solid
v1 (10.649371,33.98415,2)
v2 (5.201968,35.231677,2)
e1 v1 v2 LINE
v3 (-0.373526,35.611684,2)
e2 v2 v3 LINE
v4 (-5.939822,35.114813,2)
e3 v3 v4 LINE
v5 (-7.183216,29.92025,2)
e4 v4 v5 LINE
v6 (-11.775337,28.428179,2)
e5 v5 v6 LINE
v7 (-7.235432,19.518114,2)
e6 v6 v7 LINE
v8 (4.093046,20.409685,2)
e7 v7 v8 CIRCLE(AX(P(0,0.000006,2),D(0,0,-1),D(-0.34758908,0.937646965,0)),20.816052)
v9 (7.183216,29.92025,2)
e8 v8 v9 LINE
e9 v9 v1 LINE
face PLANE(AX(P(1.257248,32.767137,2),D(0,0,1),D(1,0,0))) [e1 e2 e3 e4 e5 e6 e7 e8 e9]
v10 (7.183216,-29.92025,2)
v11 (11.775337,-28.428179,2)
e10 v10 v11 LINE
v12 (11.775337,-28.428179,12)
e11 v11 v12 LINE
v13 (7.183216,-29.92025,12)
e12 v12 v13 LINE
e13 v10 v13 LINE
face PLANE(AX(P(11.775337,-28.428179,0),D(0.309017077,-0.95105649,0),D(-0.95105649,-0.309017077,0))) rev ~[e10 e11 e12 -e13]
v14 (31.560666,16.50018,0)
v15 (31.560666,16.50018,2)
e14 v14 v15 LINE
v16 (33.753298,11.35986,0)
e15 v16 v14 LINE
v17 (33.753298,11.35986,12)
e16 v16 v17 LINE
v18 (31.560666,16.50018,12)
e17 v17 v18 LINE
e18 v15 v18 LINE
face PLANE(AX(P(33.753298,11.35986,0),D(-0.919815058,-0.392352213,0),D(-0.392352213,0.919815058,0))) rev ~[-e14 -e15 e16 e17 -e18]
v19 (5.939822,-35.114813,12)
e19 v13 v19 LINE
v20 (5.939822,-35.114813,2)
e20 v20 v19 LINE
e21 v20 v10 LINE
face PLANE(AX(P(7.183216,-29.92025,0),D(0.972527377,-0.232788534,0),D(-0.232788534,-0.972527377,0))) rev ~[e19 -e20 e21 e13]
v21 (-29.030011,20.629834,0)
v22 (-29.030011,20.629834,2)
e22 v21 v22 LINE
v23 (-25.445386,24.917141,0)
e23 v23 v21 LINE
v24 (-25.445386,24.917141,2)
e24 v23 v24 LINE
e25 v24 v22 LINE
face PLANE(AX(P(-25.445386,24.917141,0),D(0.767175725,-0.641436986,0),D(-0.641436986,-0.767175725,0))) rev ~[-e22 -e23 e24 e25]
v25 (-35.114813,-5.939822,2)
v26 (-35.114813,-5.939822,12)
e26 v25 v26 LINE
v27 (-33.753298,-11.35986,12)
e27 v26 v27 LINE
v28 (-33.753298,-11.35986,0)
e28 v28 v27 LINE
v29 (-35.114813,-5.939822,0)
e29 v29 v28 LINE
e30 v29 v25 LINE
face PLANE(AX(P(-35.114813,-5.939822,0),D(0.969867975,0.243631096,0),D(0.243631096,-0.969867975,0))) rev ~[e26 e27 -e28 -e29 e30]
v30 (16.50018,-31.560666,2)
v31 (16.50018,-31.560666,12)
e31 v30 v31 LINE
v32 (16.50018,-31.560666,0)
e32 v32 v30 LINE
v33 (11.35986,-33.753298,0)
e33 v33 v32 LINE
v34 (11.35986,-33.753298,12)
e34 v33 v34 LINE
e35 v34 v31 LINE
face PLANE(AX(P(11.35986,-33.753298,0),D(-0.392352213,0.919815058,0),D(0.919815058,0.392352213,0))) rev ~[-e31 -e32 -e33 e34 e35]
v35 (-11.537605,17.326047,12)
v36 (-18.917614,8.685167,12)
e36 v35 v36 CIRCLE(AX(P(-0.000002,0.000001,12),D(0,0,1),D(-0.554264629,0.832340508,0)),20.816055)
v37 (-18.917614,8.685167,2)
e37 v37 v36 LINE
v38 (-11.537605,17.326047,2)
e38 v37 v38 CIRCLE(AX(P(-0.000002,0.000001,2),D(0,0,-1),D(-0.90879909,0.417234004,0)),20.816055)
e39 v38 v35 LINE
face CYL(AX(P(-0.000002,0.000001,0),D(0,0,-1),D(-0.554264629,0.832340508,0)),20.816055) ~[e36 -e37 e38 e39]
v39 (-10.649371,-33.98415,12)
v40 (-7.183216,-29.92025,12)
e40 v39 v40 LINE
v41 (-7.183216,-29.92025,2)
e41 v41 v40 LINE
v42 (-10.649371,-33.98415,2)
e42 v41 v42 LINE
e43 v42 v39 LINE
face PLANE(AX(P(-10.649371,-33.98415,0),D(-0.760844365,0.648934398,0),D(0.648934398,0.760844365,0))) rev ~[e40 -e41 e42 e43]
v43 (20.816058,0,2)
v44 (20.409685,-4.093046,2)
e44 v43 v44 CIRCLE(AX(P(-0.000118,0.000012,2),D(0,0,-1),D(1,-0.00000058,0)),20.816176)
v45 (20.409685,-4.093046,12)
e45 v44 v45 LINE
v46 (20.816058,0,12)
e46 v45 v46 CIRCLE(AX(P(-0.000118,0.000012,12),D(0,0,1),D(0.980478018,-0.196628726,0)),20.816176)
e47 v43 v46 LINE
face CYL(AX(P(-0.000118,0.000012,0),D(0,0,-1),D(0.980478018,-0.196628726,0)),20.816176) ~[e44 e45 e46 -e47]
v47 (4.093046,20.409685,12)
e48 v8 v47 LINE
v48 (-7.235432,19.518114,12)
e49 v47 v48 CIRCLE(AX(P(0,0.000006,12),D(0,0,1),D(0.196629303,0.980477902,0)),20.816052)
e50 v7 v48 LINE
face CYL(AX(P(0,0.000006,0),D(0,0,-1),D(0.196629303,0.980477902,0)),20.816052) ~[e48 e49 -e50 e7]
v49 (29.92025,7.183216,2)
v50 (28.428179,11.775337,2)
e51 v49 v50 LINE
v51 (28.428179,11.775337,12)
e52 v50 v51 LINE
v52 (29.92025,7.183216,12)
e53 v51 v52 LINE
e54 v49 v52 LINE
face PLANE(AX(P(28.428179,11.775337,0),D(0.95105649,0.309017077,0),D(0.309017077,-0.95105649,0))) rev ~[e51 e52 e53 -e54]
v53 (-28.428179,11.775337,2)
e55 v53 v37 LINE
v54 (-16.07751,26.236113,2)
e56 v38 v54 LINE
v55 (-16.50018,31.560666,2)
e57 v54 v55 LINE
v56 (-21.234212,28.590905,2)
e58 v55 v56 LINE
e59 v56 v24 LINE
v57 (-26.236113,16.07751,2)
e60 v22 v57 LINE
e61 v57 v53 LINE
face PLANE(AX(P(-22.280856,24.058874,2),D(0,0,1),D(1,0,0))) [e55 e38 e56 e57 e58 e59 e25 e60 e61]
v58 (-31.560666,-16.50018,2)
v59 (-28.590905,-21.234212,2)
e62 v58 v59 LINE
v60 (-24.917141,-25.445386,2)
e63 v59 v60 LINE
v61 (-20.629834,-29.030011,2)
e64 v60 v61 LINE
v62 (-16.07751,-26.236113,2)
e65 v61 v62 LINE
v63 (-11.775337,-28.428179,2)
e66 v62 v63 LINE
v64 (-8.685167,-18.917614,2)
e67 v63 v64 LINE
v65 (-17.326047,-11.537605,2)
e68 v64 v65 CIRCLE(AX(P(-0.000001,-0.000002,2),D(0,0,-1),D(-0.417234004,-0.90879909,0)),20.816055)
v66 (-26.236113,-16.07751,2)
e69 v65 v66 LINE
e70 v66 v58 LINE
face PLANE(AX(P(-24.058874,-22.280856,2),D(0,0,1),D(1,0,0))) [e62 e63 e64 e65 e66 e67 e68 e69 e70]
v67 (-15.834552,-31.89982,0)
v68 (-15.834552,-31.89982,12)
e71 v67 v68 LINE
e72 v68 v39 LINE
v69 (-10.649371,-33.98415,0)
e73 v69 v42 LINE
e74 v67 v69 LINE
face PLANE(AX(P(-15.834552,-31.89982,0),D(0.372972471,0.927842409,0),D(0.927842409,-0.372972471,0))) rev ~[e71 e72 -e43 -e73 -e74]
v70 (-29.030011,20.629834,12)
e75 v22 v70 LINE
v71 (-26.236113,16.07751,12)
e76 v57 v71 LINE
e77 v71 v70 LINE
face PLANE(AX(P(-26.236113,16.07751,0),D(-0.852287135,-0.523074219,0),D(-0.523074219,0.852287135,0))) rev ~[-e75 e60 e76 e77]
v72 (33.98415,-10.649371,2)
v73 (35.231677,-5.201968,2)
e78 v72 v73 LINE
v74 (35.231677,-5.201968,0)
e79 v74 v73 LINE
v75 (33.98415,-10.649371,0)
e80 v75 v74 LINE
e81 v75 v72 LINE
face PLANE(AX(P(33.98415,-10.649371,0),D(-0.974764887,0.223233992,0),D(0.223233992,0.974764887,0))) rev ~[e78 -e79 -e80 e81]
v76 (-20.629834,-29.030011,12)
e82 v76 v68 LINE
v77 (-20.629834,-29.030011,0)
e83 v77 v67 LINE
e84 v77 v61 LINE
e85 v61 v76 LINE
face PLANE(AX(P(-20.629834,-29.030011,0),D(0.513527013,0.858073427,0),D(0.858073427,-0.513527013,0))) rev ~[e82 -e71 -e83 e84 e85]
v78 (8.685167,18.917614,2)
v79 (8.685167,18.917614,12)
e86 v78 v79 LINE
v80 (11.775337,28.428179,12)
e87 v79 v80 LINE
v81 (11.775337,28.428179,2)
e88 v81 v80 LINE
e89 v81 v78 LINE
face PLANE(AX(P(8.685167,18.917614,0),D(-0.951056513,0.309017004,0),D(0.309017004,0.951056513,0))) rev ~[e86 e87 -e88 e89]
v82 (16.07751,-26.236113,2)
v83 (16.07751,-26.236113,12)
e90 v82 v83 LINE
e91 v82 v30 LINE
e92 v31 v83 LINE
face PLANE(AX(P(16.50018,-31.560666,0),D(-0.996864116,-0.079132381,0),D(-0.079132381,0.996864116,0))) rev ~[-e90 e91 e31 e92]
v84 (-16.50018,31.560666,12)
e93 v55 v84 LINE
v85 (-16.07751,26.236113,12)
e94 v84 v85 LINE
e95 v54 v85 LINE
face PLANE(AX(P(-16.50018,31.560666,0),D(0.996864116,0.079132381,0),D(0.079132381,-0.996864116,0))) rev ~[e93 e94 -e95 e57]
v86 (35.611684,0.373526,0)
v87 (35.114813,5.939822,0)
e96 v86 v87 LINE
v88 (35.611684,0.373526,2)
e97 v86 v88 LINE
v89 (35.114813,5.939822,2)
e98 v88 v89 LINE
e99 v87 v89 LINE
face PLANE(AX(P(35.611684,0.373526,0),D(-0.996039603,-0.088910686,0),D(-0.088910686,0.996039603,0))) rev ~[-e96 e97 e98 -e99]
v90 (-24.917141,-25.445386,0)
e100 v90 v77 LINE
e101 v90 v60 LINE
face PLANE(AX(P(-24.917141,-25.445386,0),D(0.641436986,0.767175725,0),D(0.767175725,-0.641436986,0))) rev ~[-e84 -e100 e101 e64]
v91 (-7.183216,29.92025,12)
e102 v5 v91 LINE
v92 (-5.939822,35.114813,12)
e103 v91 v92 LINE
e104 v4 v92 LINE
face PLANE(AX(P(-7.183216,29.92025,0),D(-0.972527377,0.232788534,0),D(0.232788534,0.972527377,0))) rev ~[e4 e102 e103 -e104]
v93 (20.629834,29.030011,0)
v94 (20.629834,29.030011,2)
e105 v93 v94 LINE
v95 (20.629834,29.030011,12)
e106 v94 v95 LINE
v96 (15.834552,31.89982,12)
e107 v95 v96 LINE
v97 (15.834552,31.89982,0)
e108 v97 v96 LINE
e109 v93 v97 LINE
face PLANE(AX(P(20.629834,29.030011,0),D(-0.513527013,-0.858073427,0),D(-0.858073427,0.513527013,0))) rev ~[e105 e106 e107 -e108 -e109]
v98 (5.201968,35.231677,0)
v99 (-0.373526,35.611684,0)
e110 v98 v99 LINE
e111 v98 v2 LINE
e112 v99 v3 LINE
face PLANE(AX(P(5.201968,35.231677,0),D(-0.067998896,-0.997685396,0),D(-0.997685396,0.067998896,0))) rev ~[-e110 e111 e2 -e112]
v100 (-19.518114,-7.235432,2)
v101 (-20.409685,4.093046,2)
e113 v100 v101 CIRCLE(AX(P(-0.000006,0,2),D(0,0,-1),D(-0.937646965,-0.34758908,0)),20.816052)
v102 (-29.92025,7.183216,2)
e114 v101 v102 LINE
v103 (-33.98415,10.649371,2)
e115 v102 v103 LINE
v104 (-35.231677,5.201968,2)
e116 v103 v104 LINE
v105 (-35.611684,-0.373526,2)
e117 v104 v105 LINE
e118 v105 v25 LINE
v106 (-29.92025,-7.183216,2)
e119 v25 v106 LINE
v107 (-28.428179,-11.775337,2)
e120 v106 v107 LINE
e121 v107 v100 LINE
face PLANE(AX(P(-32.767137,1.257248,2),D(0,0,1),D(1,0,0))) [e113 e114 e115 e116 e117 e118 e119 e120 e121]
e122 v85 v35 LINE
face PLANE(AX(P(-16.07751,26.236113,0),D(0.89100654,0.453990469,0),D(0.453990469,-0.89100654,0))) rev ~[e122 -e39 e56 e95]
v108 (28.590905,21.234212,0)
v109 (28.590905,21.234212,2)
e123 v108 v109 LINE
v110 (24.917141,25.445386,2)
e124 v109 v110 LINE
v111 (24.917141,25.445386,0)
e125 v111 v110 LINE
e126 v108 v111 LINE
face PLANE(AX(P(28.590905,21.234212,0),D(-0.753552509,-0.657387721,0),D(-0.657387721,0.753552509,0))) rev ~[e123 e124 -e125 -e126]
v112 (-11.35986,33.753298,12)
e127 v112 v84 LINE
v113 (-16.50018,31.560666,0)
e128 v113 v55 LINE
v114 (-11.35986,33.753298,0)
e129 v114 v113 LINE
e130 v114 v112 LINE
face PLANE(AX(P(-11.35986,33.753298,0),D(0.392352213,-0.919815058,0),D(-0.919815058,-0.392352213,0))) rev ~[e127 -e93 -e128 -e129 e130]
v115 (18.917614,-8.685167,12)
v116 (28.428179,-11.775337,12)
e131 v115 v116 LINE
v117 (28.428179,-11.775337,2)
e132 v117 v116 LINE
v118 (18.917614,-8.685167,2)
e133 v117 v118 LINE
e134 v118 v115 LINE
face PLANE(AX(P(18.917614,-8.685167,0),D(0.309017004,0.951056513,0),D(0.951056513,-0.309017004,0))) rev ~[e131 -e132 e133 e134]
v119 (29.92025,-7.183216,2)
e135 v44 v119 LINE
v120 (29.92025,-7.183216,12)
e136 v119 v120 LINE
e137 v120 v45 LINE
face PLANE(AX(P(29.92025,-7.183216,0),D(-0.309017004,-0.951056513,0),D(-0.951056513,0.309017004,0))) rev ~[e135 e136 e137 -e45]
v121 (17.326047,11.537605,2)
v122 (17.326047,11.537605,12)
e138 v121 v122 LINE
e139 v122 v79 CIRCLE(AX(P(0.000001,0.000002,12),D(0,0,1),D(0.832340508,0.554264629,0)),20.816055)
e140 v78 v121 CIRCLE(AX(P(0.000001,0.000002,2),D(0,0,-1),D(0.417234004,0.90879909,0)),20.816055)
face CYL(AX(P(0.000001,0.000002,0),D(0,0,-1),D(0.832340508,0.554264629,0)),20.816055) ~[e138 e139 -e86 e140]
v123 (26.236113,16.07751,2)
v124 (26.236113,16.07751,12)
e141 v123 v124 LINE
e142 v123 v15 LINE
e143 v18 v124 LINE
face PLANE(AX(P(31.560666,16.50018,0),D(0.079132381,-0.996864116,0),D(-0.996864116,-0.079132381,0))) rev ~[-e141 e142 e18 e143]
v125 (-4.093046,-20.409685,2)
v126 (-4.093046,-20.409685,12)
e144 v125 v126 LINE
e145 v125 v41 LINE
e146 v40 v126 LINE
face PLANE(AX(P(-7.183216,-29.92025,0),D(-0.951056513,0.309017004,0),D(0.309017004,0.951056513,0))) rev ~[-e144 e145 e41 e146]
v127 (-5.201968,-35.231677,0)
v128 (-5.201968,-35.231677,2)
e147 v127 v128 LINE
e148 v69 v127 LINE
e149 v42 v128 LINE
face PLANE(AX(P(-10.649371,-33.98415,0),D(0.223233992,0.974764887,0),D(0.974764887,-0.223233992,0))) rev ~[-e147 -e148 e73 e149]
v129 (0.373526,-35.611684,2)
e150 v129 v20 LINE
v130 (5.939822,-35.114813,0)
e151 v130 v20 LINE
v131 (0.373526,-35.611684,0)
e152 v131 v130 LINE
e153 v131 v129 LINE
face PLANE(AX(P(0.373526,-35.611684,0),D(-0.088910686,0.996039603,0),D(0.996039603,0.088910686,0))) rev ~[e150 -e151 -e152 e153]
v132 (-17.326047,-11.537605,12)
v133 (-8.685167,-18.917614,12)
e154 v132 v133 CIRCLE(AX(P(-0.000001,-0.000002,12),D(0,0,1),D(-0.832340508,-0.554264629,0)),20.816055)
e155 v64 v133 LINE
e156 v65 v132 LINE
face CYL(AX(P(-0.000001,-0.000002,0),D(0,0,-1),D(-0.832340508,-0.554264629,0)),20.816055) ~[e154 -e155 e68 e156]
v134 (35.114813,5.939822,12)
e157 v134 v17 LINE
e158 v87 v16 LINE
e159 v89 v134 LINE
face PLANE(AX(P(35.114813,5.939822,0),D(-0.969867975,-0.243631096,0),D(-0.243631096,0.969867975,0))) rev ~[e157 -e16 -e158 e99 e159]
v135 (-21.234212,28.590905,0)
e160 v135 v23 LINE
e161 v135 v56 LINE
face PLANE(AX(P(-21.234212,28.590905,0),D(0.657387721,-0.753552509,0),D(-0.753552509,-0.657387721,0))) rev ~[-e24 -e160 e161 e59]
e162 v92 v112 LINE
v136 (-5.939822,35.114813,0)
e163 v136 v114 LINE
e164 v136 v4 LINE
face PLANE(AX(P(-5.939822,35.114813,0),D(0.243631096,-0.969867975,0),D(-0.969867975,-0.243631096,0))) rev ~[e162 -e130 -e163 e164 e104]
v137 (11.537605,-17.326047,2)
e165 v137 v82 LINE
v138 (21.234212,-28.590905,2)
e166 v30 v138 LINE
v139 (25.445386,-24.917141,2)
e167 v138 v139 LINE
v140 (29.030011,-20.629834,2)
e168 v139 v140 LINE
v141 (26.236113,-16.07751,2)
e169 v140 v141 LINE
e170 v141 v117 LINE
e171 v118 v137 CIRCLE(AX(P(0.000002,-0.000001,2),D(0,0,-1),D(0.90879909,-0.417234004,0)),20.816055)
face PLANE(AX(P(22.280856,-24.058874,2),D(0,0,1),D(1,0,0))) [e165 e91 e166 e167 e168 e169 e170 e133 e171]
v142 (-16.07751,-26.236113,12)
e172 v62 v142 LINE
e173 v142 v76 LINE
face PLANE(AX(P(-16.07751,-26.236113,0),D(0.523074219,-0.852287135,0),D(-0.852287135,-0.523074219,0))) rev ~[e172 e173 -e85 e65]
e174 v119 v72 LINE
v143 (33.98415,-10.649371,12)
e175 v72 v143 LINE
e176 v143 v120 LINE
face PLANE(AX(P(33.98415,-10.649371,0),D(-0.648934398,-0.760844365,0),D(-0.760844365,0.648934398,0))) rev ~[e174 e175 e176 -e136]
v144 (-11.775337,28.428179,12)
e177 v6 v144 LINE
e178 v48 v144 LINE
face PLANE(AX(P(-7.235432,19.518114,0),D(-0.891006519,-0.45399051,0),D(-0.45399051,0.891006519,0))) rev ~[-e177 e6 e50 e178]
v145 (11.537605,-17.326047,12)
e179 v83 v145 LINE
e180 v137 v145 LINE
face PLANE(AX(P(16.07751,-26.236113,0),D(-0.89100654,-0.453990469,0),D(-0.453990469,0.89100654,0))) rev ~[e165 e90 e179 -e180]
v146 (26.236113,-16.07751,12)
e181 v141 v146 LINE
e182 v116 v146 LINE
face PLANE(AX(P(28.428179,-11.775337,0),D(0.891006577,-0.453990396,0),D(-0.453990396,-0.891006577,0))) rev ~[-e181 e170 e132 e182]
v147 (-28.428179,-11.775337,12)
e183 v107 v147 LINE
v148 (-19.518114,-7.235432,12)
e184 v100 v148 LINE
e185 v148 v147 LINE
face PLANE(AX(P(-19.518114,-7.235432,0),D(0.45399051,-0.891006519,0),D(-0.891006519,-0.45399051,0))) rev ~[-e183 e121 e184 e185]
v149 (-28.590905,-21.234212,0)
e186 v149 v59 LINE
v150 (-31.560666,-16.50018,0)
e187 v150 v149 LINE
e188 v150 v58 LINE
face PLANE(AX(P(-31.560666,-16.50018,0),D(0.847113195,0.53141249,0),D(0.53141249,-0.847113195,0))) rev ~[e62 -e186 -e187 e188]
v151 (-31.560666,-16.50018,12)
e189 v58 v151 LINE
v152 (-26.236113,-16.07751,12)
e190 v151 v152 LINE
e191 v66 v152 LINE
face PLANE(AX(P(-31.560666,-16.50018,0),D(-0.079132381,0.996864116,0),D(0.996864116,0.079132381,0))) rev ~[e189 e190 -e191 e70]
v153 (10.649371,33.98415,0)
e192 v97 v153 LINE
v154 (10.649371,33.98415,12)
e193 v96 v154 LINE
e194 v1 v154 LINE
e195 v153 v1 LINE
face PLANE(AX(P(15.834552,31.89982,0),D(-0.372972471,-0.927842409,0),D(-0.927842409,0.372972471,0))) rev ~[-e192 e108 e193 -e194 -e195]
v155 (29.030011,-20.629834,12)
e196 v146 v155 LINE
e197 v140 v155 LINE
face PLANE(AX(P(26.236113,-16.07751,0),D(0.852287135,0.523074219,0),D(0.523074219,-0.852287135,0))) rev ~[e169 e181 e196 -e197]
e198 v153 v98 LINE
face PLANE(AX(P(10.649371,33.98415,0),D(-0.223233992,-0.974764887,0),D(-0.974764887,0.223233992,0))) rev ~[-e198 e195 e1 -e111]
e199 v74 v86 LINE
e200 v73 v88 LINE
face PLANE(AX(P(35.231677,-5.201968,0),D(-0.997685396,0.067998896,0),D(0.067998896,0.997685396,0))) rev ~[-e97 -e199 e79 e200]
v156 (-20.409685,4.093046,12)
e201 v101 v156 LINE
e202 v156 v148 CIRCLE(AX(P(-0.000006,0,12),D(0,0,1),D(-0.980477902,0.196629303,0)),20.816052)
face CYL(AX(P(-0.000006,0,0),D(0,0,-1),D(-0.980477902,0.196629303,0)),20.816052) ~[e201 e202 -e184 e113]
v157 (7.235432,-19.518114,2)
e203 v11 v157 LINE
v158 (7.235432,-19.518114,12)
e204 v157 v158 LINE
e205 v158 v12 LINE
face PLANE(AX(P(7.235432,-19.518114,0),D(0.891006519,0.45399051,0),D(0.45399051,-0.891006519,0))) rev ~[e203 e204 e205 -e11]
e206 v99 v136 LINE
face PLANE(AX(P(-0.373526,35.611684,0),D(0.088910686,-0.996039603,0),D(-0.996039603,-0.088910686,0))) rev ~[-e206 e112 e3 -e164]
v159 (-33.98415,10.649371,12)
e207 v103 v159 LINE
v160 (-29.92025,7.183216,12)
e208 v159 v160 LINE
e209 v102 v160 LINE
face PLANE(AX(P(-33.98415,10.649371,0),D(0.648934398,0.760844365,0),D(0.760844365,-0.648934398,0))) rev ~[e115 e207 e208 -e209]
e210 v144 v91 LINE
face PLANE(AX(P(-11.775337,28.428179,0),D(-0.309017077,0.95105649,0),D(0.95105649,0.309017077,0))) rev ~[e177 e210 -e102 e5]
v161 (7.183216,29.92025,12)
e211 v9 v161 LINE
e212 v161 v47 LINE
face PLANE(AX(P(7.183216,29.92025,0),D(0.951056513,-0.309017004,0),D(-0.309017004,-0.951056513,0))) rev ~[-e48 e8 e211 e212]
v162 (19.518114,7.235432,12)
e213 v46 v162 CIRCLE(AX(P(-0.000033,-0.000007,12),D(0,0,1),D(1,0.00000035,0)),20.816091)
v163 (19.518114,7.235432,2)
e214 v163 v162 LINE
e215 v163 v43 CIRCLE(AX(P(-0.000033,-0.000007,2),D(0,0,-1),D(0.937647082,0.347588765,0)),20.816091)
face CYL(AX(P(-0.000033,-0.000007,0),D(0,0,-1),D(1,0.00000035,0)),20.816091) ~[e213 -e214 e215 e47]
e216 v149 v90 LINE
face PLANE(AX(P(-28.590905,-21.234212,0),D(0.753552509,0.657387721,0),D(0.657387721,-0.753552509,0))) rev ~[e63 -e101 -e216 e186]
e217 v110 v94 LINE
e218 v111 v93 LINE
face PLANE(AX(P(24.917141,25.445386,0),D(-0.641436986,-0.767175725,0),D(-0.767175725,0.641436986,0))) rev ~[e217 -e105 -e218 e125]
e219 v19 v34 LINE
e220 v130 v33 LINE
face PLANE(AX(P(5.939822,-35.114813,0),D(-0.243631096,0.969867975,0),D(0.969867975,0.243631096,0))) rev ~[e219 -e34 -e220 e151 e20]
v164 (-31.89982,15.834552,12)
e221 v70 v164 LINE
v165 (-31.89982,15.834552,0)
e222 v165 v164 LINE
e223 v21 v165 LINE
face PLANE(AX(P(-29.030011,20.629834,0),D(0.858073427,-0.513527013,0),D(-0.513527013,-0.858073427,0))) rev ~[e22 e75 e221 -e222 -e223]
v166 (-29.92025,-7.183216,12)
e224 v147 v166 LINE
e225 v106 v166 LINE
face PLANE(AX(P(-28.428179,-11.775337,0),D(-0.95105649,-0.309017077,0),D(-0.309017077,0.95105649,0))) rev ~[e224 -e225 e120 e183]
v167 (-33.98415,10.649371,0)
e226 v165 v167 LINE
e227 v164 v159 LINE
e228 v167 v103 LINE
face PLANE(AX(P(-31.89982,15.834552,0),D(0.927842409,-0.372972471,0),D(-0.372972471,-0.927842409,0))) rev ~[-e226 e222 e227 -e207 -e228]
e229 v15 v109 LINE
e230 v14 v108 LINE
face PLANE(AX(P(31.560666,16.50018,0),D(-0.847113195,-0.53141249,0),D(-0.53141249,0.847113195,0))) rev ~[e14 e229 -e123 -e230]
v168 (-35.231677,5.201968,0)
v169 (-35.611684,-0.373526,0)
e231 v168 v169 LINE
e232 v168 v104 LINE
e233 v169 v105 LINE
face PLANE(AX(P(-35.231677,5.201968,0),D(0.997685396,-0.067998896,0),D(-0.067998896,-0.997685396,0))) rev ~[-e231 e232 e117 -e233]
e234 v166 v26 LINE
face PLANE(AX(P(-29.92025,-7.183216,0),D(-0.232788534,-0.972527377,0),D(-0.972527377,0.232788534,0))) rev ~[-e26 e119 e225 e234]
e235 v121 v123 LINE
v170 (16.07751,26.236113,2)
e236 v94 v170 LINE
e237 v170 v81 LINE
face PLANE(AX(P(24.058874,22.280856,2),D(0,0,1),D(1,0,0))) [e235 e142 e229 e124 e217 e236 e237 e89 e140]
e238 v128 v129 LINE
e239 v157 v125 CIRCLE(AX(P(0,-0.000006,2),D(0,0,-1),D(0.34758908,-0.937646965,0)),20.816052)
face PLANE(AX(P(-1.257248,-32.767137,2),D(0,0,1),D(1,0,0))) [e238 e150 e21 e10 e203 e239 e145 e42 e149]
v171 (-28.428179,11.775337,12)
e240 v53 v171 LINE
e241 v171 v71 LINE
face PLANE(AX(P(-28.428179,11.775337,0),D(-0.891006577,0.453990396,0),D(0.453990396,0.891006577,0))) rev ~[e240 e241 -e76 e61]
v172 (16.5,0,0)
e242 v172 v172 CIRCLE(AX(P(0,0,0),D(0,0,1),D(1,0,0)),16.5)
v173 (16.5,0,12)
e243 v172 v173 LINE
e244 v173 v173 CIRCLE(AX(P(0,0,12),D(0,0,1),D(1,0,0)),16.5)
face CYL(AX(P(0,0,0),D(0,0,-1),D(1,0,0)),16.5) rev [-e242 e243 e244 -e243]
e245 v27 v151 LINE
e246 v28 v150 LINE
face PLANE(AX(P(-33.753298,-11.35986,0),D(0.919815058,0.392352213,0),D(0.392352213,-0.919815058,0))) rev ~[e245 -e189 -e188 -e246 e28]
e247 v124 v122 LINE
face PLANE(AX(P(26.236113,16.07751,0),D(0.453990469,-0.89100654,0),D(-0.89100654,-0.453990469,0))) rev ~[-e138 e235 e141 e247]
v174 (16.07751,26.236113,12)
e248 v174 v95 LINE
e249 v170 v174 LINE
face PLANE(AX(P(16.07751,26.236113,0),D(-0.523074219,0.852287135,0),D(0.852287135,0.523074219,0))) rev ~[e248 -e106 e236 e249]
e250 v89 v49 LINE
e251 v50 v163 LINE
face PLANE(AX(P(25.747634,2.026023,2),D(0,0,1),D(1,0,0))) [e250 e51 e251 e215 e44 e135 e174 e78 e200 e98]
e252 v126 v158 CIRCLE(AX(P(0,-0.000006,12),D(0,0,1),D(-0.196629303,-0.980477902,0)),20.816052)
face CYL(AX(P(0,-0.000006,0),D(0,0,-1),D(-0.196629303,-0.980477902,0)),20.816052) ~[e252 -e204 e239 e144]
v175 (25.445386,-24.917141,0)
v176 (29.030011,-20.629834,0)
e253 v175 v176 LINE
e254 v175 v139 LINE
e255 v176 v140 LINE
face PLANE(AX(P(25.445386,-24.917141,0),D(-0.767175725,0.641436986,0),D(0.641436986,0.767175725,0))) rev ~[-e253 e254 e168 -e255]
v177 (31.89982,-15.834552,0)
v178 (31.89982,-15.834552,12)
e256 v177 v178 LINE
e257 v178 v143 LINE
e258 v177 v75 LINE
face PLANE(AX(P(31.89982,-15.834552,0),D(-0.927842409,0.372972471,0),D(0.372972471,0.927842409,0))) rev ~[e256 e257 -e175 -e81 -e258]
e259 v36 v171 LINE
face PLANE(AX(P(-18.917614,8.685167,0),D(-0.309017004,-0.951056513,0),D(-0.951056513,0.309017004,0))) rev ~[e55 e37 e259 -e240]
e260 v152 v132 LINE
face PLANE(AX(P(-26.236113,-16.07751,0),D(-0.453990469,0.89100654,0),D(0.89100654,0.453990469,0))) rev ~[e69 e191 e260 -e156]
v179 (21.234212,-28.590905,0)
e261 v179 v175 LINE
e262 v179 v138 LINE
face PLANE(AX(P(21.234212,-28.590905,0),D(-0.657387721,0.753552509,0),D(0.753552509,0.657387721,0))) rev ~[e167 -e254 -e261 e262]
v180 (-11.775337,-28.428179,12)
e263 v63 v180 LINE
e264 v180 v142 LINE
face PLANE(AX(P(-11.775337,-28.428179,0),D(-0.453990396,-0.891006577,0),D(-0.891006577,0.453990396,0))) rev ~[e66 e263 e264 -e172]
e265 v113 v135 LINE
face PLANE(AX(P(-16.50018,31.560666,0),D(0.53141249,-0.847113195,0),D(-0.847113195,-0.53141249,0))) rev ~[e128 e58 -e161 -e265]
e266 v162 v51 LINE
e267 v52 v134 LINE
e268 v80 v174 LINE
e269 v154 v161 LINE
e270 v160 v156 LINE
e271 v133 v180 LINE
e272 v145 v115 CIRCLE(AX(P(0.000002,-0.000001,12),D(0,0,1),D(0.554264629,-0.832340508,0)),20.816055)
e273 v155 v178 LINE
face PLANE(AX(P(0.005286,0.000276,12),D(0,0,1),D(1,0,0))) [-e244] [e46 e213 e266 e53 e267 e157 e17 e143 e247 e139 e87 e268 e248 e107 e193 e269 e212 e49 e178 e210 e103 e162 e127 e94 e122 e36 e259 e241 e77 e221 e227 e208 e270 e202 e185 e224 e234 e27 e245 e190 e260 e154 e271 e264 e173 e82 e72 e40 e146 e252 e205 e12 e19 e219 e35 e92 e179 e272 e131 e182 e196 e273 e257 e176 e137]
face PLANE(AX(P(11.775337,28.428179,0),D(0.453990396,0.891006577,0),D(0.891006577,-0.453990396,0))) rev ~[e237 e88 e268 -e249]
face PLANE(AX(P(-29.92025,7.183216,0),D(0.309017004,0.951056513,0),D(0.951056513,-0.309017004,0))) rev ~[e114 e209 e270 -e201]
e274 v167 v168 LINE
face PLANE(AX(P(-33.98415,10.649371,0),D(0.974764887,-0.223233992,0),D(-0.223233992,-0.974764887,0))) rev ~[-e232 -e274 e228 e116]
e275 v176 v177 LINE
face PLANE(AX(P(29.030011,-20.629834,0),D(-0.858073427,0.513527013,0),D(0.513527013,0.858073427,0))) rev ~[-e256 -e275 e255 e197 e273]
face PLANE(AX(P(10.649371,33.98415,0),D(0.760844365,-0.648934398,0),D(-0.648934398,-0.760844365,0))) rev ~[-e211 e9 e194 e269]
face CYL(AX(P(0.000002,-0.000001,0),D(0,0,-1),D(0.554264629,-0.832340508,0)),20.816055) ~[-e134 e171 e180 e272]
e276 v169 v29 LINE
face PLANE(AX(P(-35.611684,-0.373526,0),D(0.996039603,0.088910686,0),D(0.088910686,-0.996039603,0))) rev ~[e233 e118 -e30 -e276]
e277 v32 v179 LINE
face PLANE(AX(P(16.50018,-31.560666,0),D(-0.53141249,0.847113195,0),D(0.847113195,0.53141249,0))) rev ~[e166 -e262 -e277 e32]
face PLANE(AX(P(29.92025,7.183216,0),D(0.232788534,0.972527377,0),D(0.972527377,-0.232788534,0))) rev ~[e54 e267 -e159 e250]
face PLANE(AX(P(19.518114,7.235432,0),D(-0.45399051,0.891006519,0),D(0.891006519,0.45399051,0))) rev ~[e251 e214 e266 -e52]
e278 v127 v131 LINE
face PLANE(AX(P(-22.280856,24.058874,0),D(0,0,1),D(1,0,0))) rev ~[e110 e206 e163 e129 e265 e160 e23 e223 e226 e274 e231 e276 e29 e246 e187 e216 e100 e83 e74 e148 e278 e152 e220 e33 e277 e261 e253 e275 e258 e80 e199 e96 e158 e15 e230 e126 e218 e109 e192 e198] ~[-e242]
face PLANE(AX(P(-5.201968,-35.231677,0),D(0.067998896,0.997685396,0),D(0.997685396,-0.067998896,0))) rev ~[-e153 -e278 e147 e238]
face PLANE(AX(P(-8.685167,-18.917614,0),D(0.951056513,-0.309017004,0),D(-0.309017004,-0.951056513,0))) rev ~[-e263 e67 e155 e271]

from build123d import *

# Parameters (mm, degrees)
F0_R      = 16.5
F17_DEPTH = 12
F18_DEPTH = 2


with BuildPart() as f17:
    # F0 (on Top) → F17 (new body)
    with BuildSketch(Plane.XY):
        with BuildLine():
            ThreePointArc((18.917614, -8.685167), (19.797247, -6.432516), (20.409685, -4.093046))
            ThreePointArc((20.409685, -4.093046), (20.714215, -2.056585), (20.816058, 0))
            ThreePointArc((20.816058, 0), (20.489002, 3.675464), (19.518114, 7.235432))
            ThreePointArc((19.518114, 7.235432), (18.547243, 9.450292), (17.326047, 11.537605))
            ThreePointArc((17.326047, 11.537605), (13.518948, 15.828654), (8.685167, 18.917614))
            ThreePointArc((8.685167, 18.917614), (6.432516, 19.797247), (4.093046, 20.409685))
            ThreePointArc((4.093046, 20.409685), (-1.633209, 20.751889), (-7.235432, 19.518114))
            ThreePointArc((-7.235432, 19.518114), (-9.450292, 18.547243), (-11.537605, 17.326047))
            ThreePointArc((-11.537605, 17.326047), (-15.828654, 13.518948), (-18.917614, 8.685167))
            ThreePointArc((-18.917614, 8.685167), (-19.797247, 6.432516), (-20.409685, 4.093046))
            ThreePointArc((-20.409685, 4.093046), (-20.751889, -1.633209), (-19.518114, -7.235432))
            ThreePointArc((-19.518114, -7.235432), (-18.547243, -9.450292), (-17.326047, -11.537605))
            ThreePointArc((-17.326047, -11.537605), (-13.518948, -15.828654), (-8.685167, -18.917614))
            ThreePointArc((-8.685167, -18.917614), (-6.432516, -19.797247), (-4.093046, -20.409685))
            ThreePointArc((-4.093046, -20.409685), (1.633209, -20.751889), (7.235432, -19.518114))
            ThreePointArc((7.235432, -19.518114), (9.450292, -18.547243), (11.537605, -17.326047))
            ThreePointArc((11.537605, -17.326047), (15.828654, -13.518948), (18.917614, -8.685167))
        make_face()
        Circle(F0_R, mode=Mode.SUBTRACT)
        with BuildLine():
            ThreePointArc((4.093046, 20.409685), (6.432516, 19.797247), (8.685167, 18.917614))
            Line((8.685167, 18.917614), (11.775337, 28.428179))
            Line((11.775337, 28.428179), (7.183216, 29.92025))
            Line((7.183216, 29.92025), (4.093046, 20.409685))
        make_face()
        Polygon((11.775337, 28.428179), (16.07751, 26.236113), (20.629834, 29.030011), (15.834552, 31.89982), (10.649371, 33.98415), (7.183216, 29.92025), align=None)
        Polygon((-16.07751, 26.236113), (-11.775337, 28.428179), (-7.183216, 29.92025), (-5.939822, 35.114813), (-11.35986, 33.753298), (-16.50018, 31.560666), align=None)
        with BuildLine():
            ThreePointArc((-11.537605, 17.326047), (-9.450292, 18.547243), (-7.235432, 19.518114))
            Line((-7.235432, 19.518114), (-11.775337, 28.428179))
            Line((-11.775337, 28.428179), (-16.07751, 26.236113))
            Line((-16.07751, 26.236113), (-11.537605, 17.326047))
        make_face()
        Polygon((-29.92025, 7.183216), (-28.428179, 11.775337), (-26.236113, 16.07751), (-29.030011, 20.629834), (-31.89982, 15.834552), (-33.98415, 10.649371), align=None)
        with BuildLine():
            ThreePointArc((-20.409685, 4.093046), (-19.797247, 6.432516), (-18.917614, 8.685167))
            Line((-18.917614, 8.685167), (-28.428179, 11.775337))
            Line((-28.428179, 11.775337), (-29.92025, 7.183216))
            Line((-29.92025, 7.183216), (-20.409685, 4.093046))
        make_face()
        Polygon((-31.560666, -16.50018), (-26.236113, -16.07751), (-28.428179, -11.775337), (-29.92025, -7.183216), (-35.114813, -5.939822), (-33.753298, -11.35986), align=None)
        with BuildLine():
            Line((-26.236113, -16.07751), (-17.326047, -11.537605))
            ThreePointArc((-17.326047, -11.537605), (-18.547243, -9.450292), (-19.518114, -7.235432))
            Line((-19.518114, -7.235432), (-28.428179, -11.775337))
            Line((-28.428179, -11.775337), (-26.236113, -16.07751))
        make_face()
        Polygon((-10.649371, -33.98415), (-7.183216, -29.92025), (-11.775337, -28.428179), (-16.07751, -26.236113), (-20.629834, -29.030011), (-15.834552, -31.89982), align=None)
        with BuildLine():
            Line((-7.183216, -29.92025), (-4.093046, -20.409685))
            ThreePointArc((-4.093046, -20.409685), (-6.432516, -19.797247), (-8.685167, -18.917614))
            Line((-8.685167, -18.917614), (-11.775337, -28.428179))
            Line((-11.775337, -28.428179), (-7.183216, -29.92025))
        make_face()
        Polygon((16.50018, -31.560666), (16.07751, -26.236113), (11.775337, -28.428179), (7.183216, -29.92025), (5.939822, -35.114813), (11.35986, -33.753298), align=None)
        with BuildLine():
            Line((16.07751, -26.236113), (11.537605, -17.326047))
            ThreePointArc((11.537605, -17.326047), (9.450292, -18.547243), (7.235432, -19.518114))
            Line((7.235432, -19.518114), (11.775337, -28.428179))
            Line((11.775337, -28.428179), (16.07751, -26.236113))
        make_face()
        Polygon((33.98415, -10.649371), (29.92025, -7.183216), (28.428179, -11.775337), (26.236113, -16.07751), (29.030011, -20.629834), (31.89982, -15.834552), align=None)
        with BuildLine():
            Line((28.428179, -11.775337), (29.92025, -7.183216))
            Line((29.92025, -7.183216), (20.409685, -4.093046))
            ThreePointArc((20.409685, -4.093046), (19.797247, -6.432516), (18.917614, -8.685167))
            Line((18.917614, -8.685167), (28.428179, -11.775337))
        make_face()
        Polygon((28.428179, 11.775337), (29.92025, 7.183216), (35.114813, 5.939822), (33.753298, 11.35986), (31.560666, 16.50018), (26.236113, 16.07751), align=None)
        with BuildLine():
            Line((19.518114, 7.235432), (28.428179, 11.775337))
            Line((28.428179, 11.775337), (26.236113, 16.07751))
            Line((26.236113, 16.07751), (17.326047, 11.537605))
            ThreePointArc((17.326047, 11.537605), (18.547243, 9.450292), (19.518114, 7.235432))
        make_face()
    extrude(amount=F17_DEPTH)

    # F9 (on face) + F10 (on face) + F11 (on face) + F7 (on face) + F8 (on face) + F1 (on face) + F2 (on face) + F16 (on face) + F15 (on face) + F3 (on face) + F14 (on face) + F4 (on face) + F13 (on face) + F5 (on face) + F12 (on face) + F6 (on face) → F18 (join)
    with BuildSketch(Plane.XY):
        Polygon((-23.398026, 19.983802), (-19.983802, 23.398026), (-16.07751, 26.236113), (-16.50018, 31.560666), (-21.234212, 28.590905), (-25.445386, 24.917141), (-29.030011, 20.629834), (-26.236113, 16.07751), align=None)
    with BuildSketch(Plane.XY):
        Polygon((-2.414221, 30.675584), (2.414221, 30.675584), (7.183216, 29.92025), (10.649371, 33.98415), (5.201968, 35.231677), (-0.373526, 35.611684), (-5.939822, 35.114813), (-7.183216, 29.92025), align=None)
    with BuildSketch(Plane.XY):
        Polygon((19.983802, 23.398026), (23.398026, 19.983802), (26.236113, 16.07751), (31.560666, 16.50018), (28.590905, 21.234212), (24.917141, 25.445386), (20.629834, 29.030011), (16.07751, 26.236113), align=None)
    with BuildSketch(Plane.XY):
        with BuildLine():
            ThreePointArc((8.685167, 18.917614), (13.518948, 15.828654), (17.326047, 11.537605))
            Line((17.326047, 11.537605), (26.236113, 16.07751))
            Line((26.236113, 16.07751), (23.398026, 19.983802))
            Line((23.398026, 19.983802), (19.983802, 23.398026))
            Line((19.983802, 23.398026), (16.07751, 26.236113))
            Line((16.07751, 26.236113), (11.775337, 28.428179))
            Line((11.775337, 28.428179), (8.685167, 18.917614))
        make_face()
    with BuildSketch(Plane.XY):
        with BuildLine():
            Line((-11.775337, 28.428179), (-7.235432, 19.518114))
            ThreePointArc((-7.235432, 19.518114), (-1.633209, 20.751889), (4.093046, 20.409685))
            Line((4.093046, 20.409685), (7.183216, 29.92025))
            Line((7.183216, 29.92025), (2.414221, 30.675584))
            Line((2.414221, 30.675584), (-2.414221, 30.675584))
            Line((-2.414221, 30.675584), (-7.183216, 29.92025))
            Line((-7.183216, 29.92025), (-11.775337, 28.428179))
        make_face()
    with BuildSketch(Plane.XY):
        with BuildLine():
            Line((-28.428179, 11.775337), (-18.917614, 8.685167))
            ThreePointArc((-18.917614, 8.685167), (-15.828654, 13.518948), (-11.537605, 17.326047))
            Line((-11.537605, 17.326047), (-16.07751, 26.236113))
            Line((-16.07751, 26.236113), (-19.983802, 23.398026))
            Line((-19.983802, 23.398026), (-23.398026, 19.983802))
            Line((-23.398026, 19.983802), (-26.236113, 16.07751))
            Line((-26.236113, 16.07751), (-28.428179, 11.775337))
        make_face()
    with BuildSketch(Plane.XY):
        with BuildLine():
            Line((-29.92025, -7.183216), (-28.428179, -11.775337))
            Line((-28.428179, -11.775337), (-19.518114, -7.235432))
            ThreePointArc((-19.518114, -7.235432), (-20.751889, -1.633209), (-20.409685, 4.093046))
            Line((-20.409685, 4.093046), (-29.92025, 7.183216))
            Line((-29.92025, 7.183216), (-30.675584, 2.414221))
            Line((-30.675584, 2.414221), (-30.675584, -2.414221))
            Line((-30.675584, -2.414221), (-29.92025, -7.183216))
        make_face()
    with BuildSketch(Plane.XY):
        Polygon((-30.675584, -2.414221), (-30.675584, 2.414221), (-29.92025, 7.183216), (-33.98415, 10.649371), (-35.231677, 5.201968), (-35.611684, -0.373526), (-35.114813, -5.939822), (-29.92025, -7.183216), align=None)
    with BuildSketch(Plane.XY):
        Polygon((-19.983802, -23.398026), (-23.398026, -19.983802), (-26.236113, -16.07751), (-31.560666, -16.50018), (-28.590905, -21.234212), (-24.917141, -25.445386), (-20.629834, -29.030011), (-16.07751, -26.236113), align=None)
    with BuildSketch(Plane.XY):
        with BuildLine():
            Line((-16.07751, -26.236113), (-11.775337, -28.428179))
            Line((-11.775337, -28.428179), (-8.685167, -18.917614))
            ThreePointArc((-8.685167, -18.917614), (-13.518948, -15.828654), (-17.326047, -11.537605))
            Line((-17.326047, -11.537605), (-26.236113, -16.07751))
            Line((-26.236113, -16.07751), (-23.398026, -19.983802))
            Line((-23.398026, -19.983802), (-19.983802, -23.398026))
            Line((-19.983802, -23.398026), (-16.07751, -26.236113))
        make_face()
    with BuildSketch(Plane.XY):
        Polygon((2.414221, -30.675584), (-2.414221, -30.675584), (-7.183216, -29.92025), (-10.649371, -33.98415), (-5.201968, -35.231677), (0.373526, -35.611684), (5.939822, -35.114813), (7.183216, -29.92025), align=None)
    with BuildSketch(Plane.XY):
        with BuildLine():
            Line((7.183216, -29.92025), (11.775337, -28.428179))
            Line((11.775337, -28.428179), (7.235432, -19.518114))
            ThreePointArc((7.235432, -19.518114), (1.633209, -20.751889), (-4.093046, -20.409685))
            Line((-4.093046, -20.409685), (-7.183216, -29.92025))
            Line((-7.183216, -29.92025), (-2.414221, -30.675584))
            Line((-2.414221, -30.675584), (2.414221, -30.675584))
            Line((2.414221, -30.675584), (7.183216, -29.92025))
        make_face()
    with BuildSketch(Plane.XY):
        Polygon((25.445386, -24.917141), (29.030011, -20.629834), (26.236113, -16.07751), (23.398026, -19.983802), (19.983802, -23.398026), (16.07751, -26.236113), (16.50018, -31.560666), (21.234212, -28.590905), align=None)
    with BuildSketch(Plane.XY):
        with BuildLine():
            Line((23.398026, -19.983802), (26.236113, -16.07751))
            Line((26.236113, -16.07751), (28.428179, -11.775337))
            Line((28.428179, -11.775337), (18.917614, -8.685167))
            ThreePointArc((18.917614, -8.685167), (15.828654, -13.518948), (11.537605, -17.326047))
            Line((11.537605, -17.326047), (16.07751, -26.236113))
            Line((16.07751, -26.236113), (19.983802, -23.398026))
            Line((19.983802, -23.398026), (23.398026, -19.983802))
        make_face()
    with BuildSketch(Plane.XY):
        Polygon((35.114813, 5.939822), (29.92025, 7.183216), (30.675584, 2.414221), (30.675584, -2.414221), (29.92025, -7.183216), (33.98415, -10.649371), (35.231677, -5.201968), (35.611684, 0.373526), align=None)
    with BuildSketch(Plane.XY):
        with BuildLine():
            Line((29.92025, -7.183216), (30.675584, -2.414221))
            Line((30.675584, -2.414221), (30.675584, 2.414221))
            Line((30.675584, 2.414221), (29.92025, 7.183216))
            Line((29.92025, 7.183216), (28.428179, 11.775337))
            Line((28.428179, 11.775337), (19.518114, 7.235432))
            ThreePointArc((19.518114, 7.235432), (20.489002, 3.675464), (20.816058, 0))
            ThreePointArc((20.816058, 0), (20.714215, -2.056585), (20.409685, -4.093046))
            Line((20.409685, -4.093046), (29.92025, -7.183216))
        make_face()
    extrude(amount=F18_DEPTH)


solid = f17.part
